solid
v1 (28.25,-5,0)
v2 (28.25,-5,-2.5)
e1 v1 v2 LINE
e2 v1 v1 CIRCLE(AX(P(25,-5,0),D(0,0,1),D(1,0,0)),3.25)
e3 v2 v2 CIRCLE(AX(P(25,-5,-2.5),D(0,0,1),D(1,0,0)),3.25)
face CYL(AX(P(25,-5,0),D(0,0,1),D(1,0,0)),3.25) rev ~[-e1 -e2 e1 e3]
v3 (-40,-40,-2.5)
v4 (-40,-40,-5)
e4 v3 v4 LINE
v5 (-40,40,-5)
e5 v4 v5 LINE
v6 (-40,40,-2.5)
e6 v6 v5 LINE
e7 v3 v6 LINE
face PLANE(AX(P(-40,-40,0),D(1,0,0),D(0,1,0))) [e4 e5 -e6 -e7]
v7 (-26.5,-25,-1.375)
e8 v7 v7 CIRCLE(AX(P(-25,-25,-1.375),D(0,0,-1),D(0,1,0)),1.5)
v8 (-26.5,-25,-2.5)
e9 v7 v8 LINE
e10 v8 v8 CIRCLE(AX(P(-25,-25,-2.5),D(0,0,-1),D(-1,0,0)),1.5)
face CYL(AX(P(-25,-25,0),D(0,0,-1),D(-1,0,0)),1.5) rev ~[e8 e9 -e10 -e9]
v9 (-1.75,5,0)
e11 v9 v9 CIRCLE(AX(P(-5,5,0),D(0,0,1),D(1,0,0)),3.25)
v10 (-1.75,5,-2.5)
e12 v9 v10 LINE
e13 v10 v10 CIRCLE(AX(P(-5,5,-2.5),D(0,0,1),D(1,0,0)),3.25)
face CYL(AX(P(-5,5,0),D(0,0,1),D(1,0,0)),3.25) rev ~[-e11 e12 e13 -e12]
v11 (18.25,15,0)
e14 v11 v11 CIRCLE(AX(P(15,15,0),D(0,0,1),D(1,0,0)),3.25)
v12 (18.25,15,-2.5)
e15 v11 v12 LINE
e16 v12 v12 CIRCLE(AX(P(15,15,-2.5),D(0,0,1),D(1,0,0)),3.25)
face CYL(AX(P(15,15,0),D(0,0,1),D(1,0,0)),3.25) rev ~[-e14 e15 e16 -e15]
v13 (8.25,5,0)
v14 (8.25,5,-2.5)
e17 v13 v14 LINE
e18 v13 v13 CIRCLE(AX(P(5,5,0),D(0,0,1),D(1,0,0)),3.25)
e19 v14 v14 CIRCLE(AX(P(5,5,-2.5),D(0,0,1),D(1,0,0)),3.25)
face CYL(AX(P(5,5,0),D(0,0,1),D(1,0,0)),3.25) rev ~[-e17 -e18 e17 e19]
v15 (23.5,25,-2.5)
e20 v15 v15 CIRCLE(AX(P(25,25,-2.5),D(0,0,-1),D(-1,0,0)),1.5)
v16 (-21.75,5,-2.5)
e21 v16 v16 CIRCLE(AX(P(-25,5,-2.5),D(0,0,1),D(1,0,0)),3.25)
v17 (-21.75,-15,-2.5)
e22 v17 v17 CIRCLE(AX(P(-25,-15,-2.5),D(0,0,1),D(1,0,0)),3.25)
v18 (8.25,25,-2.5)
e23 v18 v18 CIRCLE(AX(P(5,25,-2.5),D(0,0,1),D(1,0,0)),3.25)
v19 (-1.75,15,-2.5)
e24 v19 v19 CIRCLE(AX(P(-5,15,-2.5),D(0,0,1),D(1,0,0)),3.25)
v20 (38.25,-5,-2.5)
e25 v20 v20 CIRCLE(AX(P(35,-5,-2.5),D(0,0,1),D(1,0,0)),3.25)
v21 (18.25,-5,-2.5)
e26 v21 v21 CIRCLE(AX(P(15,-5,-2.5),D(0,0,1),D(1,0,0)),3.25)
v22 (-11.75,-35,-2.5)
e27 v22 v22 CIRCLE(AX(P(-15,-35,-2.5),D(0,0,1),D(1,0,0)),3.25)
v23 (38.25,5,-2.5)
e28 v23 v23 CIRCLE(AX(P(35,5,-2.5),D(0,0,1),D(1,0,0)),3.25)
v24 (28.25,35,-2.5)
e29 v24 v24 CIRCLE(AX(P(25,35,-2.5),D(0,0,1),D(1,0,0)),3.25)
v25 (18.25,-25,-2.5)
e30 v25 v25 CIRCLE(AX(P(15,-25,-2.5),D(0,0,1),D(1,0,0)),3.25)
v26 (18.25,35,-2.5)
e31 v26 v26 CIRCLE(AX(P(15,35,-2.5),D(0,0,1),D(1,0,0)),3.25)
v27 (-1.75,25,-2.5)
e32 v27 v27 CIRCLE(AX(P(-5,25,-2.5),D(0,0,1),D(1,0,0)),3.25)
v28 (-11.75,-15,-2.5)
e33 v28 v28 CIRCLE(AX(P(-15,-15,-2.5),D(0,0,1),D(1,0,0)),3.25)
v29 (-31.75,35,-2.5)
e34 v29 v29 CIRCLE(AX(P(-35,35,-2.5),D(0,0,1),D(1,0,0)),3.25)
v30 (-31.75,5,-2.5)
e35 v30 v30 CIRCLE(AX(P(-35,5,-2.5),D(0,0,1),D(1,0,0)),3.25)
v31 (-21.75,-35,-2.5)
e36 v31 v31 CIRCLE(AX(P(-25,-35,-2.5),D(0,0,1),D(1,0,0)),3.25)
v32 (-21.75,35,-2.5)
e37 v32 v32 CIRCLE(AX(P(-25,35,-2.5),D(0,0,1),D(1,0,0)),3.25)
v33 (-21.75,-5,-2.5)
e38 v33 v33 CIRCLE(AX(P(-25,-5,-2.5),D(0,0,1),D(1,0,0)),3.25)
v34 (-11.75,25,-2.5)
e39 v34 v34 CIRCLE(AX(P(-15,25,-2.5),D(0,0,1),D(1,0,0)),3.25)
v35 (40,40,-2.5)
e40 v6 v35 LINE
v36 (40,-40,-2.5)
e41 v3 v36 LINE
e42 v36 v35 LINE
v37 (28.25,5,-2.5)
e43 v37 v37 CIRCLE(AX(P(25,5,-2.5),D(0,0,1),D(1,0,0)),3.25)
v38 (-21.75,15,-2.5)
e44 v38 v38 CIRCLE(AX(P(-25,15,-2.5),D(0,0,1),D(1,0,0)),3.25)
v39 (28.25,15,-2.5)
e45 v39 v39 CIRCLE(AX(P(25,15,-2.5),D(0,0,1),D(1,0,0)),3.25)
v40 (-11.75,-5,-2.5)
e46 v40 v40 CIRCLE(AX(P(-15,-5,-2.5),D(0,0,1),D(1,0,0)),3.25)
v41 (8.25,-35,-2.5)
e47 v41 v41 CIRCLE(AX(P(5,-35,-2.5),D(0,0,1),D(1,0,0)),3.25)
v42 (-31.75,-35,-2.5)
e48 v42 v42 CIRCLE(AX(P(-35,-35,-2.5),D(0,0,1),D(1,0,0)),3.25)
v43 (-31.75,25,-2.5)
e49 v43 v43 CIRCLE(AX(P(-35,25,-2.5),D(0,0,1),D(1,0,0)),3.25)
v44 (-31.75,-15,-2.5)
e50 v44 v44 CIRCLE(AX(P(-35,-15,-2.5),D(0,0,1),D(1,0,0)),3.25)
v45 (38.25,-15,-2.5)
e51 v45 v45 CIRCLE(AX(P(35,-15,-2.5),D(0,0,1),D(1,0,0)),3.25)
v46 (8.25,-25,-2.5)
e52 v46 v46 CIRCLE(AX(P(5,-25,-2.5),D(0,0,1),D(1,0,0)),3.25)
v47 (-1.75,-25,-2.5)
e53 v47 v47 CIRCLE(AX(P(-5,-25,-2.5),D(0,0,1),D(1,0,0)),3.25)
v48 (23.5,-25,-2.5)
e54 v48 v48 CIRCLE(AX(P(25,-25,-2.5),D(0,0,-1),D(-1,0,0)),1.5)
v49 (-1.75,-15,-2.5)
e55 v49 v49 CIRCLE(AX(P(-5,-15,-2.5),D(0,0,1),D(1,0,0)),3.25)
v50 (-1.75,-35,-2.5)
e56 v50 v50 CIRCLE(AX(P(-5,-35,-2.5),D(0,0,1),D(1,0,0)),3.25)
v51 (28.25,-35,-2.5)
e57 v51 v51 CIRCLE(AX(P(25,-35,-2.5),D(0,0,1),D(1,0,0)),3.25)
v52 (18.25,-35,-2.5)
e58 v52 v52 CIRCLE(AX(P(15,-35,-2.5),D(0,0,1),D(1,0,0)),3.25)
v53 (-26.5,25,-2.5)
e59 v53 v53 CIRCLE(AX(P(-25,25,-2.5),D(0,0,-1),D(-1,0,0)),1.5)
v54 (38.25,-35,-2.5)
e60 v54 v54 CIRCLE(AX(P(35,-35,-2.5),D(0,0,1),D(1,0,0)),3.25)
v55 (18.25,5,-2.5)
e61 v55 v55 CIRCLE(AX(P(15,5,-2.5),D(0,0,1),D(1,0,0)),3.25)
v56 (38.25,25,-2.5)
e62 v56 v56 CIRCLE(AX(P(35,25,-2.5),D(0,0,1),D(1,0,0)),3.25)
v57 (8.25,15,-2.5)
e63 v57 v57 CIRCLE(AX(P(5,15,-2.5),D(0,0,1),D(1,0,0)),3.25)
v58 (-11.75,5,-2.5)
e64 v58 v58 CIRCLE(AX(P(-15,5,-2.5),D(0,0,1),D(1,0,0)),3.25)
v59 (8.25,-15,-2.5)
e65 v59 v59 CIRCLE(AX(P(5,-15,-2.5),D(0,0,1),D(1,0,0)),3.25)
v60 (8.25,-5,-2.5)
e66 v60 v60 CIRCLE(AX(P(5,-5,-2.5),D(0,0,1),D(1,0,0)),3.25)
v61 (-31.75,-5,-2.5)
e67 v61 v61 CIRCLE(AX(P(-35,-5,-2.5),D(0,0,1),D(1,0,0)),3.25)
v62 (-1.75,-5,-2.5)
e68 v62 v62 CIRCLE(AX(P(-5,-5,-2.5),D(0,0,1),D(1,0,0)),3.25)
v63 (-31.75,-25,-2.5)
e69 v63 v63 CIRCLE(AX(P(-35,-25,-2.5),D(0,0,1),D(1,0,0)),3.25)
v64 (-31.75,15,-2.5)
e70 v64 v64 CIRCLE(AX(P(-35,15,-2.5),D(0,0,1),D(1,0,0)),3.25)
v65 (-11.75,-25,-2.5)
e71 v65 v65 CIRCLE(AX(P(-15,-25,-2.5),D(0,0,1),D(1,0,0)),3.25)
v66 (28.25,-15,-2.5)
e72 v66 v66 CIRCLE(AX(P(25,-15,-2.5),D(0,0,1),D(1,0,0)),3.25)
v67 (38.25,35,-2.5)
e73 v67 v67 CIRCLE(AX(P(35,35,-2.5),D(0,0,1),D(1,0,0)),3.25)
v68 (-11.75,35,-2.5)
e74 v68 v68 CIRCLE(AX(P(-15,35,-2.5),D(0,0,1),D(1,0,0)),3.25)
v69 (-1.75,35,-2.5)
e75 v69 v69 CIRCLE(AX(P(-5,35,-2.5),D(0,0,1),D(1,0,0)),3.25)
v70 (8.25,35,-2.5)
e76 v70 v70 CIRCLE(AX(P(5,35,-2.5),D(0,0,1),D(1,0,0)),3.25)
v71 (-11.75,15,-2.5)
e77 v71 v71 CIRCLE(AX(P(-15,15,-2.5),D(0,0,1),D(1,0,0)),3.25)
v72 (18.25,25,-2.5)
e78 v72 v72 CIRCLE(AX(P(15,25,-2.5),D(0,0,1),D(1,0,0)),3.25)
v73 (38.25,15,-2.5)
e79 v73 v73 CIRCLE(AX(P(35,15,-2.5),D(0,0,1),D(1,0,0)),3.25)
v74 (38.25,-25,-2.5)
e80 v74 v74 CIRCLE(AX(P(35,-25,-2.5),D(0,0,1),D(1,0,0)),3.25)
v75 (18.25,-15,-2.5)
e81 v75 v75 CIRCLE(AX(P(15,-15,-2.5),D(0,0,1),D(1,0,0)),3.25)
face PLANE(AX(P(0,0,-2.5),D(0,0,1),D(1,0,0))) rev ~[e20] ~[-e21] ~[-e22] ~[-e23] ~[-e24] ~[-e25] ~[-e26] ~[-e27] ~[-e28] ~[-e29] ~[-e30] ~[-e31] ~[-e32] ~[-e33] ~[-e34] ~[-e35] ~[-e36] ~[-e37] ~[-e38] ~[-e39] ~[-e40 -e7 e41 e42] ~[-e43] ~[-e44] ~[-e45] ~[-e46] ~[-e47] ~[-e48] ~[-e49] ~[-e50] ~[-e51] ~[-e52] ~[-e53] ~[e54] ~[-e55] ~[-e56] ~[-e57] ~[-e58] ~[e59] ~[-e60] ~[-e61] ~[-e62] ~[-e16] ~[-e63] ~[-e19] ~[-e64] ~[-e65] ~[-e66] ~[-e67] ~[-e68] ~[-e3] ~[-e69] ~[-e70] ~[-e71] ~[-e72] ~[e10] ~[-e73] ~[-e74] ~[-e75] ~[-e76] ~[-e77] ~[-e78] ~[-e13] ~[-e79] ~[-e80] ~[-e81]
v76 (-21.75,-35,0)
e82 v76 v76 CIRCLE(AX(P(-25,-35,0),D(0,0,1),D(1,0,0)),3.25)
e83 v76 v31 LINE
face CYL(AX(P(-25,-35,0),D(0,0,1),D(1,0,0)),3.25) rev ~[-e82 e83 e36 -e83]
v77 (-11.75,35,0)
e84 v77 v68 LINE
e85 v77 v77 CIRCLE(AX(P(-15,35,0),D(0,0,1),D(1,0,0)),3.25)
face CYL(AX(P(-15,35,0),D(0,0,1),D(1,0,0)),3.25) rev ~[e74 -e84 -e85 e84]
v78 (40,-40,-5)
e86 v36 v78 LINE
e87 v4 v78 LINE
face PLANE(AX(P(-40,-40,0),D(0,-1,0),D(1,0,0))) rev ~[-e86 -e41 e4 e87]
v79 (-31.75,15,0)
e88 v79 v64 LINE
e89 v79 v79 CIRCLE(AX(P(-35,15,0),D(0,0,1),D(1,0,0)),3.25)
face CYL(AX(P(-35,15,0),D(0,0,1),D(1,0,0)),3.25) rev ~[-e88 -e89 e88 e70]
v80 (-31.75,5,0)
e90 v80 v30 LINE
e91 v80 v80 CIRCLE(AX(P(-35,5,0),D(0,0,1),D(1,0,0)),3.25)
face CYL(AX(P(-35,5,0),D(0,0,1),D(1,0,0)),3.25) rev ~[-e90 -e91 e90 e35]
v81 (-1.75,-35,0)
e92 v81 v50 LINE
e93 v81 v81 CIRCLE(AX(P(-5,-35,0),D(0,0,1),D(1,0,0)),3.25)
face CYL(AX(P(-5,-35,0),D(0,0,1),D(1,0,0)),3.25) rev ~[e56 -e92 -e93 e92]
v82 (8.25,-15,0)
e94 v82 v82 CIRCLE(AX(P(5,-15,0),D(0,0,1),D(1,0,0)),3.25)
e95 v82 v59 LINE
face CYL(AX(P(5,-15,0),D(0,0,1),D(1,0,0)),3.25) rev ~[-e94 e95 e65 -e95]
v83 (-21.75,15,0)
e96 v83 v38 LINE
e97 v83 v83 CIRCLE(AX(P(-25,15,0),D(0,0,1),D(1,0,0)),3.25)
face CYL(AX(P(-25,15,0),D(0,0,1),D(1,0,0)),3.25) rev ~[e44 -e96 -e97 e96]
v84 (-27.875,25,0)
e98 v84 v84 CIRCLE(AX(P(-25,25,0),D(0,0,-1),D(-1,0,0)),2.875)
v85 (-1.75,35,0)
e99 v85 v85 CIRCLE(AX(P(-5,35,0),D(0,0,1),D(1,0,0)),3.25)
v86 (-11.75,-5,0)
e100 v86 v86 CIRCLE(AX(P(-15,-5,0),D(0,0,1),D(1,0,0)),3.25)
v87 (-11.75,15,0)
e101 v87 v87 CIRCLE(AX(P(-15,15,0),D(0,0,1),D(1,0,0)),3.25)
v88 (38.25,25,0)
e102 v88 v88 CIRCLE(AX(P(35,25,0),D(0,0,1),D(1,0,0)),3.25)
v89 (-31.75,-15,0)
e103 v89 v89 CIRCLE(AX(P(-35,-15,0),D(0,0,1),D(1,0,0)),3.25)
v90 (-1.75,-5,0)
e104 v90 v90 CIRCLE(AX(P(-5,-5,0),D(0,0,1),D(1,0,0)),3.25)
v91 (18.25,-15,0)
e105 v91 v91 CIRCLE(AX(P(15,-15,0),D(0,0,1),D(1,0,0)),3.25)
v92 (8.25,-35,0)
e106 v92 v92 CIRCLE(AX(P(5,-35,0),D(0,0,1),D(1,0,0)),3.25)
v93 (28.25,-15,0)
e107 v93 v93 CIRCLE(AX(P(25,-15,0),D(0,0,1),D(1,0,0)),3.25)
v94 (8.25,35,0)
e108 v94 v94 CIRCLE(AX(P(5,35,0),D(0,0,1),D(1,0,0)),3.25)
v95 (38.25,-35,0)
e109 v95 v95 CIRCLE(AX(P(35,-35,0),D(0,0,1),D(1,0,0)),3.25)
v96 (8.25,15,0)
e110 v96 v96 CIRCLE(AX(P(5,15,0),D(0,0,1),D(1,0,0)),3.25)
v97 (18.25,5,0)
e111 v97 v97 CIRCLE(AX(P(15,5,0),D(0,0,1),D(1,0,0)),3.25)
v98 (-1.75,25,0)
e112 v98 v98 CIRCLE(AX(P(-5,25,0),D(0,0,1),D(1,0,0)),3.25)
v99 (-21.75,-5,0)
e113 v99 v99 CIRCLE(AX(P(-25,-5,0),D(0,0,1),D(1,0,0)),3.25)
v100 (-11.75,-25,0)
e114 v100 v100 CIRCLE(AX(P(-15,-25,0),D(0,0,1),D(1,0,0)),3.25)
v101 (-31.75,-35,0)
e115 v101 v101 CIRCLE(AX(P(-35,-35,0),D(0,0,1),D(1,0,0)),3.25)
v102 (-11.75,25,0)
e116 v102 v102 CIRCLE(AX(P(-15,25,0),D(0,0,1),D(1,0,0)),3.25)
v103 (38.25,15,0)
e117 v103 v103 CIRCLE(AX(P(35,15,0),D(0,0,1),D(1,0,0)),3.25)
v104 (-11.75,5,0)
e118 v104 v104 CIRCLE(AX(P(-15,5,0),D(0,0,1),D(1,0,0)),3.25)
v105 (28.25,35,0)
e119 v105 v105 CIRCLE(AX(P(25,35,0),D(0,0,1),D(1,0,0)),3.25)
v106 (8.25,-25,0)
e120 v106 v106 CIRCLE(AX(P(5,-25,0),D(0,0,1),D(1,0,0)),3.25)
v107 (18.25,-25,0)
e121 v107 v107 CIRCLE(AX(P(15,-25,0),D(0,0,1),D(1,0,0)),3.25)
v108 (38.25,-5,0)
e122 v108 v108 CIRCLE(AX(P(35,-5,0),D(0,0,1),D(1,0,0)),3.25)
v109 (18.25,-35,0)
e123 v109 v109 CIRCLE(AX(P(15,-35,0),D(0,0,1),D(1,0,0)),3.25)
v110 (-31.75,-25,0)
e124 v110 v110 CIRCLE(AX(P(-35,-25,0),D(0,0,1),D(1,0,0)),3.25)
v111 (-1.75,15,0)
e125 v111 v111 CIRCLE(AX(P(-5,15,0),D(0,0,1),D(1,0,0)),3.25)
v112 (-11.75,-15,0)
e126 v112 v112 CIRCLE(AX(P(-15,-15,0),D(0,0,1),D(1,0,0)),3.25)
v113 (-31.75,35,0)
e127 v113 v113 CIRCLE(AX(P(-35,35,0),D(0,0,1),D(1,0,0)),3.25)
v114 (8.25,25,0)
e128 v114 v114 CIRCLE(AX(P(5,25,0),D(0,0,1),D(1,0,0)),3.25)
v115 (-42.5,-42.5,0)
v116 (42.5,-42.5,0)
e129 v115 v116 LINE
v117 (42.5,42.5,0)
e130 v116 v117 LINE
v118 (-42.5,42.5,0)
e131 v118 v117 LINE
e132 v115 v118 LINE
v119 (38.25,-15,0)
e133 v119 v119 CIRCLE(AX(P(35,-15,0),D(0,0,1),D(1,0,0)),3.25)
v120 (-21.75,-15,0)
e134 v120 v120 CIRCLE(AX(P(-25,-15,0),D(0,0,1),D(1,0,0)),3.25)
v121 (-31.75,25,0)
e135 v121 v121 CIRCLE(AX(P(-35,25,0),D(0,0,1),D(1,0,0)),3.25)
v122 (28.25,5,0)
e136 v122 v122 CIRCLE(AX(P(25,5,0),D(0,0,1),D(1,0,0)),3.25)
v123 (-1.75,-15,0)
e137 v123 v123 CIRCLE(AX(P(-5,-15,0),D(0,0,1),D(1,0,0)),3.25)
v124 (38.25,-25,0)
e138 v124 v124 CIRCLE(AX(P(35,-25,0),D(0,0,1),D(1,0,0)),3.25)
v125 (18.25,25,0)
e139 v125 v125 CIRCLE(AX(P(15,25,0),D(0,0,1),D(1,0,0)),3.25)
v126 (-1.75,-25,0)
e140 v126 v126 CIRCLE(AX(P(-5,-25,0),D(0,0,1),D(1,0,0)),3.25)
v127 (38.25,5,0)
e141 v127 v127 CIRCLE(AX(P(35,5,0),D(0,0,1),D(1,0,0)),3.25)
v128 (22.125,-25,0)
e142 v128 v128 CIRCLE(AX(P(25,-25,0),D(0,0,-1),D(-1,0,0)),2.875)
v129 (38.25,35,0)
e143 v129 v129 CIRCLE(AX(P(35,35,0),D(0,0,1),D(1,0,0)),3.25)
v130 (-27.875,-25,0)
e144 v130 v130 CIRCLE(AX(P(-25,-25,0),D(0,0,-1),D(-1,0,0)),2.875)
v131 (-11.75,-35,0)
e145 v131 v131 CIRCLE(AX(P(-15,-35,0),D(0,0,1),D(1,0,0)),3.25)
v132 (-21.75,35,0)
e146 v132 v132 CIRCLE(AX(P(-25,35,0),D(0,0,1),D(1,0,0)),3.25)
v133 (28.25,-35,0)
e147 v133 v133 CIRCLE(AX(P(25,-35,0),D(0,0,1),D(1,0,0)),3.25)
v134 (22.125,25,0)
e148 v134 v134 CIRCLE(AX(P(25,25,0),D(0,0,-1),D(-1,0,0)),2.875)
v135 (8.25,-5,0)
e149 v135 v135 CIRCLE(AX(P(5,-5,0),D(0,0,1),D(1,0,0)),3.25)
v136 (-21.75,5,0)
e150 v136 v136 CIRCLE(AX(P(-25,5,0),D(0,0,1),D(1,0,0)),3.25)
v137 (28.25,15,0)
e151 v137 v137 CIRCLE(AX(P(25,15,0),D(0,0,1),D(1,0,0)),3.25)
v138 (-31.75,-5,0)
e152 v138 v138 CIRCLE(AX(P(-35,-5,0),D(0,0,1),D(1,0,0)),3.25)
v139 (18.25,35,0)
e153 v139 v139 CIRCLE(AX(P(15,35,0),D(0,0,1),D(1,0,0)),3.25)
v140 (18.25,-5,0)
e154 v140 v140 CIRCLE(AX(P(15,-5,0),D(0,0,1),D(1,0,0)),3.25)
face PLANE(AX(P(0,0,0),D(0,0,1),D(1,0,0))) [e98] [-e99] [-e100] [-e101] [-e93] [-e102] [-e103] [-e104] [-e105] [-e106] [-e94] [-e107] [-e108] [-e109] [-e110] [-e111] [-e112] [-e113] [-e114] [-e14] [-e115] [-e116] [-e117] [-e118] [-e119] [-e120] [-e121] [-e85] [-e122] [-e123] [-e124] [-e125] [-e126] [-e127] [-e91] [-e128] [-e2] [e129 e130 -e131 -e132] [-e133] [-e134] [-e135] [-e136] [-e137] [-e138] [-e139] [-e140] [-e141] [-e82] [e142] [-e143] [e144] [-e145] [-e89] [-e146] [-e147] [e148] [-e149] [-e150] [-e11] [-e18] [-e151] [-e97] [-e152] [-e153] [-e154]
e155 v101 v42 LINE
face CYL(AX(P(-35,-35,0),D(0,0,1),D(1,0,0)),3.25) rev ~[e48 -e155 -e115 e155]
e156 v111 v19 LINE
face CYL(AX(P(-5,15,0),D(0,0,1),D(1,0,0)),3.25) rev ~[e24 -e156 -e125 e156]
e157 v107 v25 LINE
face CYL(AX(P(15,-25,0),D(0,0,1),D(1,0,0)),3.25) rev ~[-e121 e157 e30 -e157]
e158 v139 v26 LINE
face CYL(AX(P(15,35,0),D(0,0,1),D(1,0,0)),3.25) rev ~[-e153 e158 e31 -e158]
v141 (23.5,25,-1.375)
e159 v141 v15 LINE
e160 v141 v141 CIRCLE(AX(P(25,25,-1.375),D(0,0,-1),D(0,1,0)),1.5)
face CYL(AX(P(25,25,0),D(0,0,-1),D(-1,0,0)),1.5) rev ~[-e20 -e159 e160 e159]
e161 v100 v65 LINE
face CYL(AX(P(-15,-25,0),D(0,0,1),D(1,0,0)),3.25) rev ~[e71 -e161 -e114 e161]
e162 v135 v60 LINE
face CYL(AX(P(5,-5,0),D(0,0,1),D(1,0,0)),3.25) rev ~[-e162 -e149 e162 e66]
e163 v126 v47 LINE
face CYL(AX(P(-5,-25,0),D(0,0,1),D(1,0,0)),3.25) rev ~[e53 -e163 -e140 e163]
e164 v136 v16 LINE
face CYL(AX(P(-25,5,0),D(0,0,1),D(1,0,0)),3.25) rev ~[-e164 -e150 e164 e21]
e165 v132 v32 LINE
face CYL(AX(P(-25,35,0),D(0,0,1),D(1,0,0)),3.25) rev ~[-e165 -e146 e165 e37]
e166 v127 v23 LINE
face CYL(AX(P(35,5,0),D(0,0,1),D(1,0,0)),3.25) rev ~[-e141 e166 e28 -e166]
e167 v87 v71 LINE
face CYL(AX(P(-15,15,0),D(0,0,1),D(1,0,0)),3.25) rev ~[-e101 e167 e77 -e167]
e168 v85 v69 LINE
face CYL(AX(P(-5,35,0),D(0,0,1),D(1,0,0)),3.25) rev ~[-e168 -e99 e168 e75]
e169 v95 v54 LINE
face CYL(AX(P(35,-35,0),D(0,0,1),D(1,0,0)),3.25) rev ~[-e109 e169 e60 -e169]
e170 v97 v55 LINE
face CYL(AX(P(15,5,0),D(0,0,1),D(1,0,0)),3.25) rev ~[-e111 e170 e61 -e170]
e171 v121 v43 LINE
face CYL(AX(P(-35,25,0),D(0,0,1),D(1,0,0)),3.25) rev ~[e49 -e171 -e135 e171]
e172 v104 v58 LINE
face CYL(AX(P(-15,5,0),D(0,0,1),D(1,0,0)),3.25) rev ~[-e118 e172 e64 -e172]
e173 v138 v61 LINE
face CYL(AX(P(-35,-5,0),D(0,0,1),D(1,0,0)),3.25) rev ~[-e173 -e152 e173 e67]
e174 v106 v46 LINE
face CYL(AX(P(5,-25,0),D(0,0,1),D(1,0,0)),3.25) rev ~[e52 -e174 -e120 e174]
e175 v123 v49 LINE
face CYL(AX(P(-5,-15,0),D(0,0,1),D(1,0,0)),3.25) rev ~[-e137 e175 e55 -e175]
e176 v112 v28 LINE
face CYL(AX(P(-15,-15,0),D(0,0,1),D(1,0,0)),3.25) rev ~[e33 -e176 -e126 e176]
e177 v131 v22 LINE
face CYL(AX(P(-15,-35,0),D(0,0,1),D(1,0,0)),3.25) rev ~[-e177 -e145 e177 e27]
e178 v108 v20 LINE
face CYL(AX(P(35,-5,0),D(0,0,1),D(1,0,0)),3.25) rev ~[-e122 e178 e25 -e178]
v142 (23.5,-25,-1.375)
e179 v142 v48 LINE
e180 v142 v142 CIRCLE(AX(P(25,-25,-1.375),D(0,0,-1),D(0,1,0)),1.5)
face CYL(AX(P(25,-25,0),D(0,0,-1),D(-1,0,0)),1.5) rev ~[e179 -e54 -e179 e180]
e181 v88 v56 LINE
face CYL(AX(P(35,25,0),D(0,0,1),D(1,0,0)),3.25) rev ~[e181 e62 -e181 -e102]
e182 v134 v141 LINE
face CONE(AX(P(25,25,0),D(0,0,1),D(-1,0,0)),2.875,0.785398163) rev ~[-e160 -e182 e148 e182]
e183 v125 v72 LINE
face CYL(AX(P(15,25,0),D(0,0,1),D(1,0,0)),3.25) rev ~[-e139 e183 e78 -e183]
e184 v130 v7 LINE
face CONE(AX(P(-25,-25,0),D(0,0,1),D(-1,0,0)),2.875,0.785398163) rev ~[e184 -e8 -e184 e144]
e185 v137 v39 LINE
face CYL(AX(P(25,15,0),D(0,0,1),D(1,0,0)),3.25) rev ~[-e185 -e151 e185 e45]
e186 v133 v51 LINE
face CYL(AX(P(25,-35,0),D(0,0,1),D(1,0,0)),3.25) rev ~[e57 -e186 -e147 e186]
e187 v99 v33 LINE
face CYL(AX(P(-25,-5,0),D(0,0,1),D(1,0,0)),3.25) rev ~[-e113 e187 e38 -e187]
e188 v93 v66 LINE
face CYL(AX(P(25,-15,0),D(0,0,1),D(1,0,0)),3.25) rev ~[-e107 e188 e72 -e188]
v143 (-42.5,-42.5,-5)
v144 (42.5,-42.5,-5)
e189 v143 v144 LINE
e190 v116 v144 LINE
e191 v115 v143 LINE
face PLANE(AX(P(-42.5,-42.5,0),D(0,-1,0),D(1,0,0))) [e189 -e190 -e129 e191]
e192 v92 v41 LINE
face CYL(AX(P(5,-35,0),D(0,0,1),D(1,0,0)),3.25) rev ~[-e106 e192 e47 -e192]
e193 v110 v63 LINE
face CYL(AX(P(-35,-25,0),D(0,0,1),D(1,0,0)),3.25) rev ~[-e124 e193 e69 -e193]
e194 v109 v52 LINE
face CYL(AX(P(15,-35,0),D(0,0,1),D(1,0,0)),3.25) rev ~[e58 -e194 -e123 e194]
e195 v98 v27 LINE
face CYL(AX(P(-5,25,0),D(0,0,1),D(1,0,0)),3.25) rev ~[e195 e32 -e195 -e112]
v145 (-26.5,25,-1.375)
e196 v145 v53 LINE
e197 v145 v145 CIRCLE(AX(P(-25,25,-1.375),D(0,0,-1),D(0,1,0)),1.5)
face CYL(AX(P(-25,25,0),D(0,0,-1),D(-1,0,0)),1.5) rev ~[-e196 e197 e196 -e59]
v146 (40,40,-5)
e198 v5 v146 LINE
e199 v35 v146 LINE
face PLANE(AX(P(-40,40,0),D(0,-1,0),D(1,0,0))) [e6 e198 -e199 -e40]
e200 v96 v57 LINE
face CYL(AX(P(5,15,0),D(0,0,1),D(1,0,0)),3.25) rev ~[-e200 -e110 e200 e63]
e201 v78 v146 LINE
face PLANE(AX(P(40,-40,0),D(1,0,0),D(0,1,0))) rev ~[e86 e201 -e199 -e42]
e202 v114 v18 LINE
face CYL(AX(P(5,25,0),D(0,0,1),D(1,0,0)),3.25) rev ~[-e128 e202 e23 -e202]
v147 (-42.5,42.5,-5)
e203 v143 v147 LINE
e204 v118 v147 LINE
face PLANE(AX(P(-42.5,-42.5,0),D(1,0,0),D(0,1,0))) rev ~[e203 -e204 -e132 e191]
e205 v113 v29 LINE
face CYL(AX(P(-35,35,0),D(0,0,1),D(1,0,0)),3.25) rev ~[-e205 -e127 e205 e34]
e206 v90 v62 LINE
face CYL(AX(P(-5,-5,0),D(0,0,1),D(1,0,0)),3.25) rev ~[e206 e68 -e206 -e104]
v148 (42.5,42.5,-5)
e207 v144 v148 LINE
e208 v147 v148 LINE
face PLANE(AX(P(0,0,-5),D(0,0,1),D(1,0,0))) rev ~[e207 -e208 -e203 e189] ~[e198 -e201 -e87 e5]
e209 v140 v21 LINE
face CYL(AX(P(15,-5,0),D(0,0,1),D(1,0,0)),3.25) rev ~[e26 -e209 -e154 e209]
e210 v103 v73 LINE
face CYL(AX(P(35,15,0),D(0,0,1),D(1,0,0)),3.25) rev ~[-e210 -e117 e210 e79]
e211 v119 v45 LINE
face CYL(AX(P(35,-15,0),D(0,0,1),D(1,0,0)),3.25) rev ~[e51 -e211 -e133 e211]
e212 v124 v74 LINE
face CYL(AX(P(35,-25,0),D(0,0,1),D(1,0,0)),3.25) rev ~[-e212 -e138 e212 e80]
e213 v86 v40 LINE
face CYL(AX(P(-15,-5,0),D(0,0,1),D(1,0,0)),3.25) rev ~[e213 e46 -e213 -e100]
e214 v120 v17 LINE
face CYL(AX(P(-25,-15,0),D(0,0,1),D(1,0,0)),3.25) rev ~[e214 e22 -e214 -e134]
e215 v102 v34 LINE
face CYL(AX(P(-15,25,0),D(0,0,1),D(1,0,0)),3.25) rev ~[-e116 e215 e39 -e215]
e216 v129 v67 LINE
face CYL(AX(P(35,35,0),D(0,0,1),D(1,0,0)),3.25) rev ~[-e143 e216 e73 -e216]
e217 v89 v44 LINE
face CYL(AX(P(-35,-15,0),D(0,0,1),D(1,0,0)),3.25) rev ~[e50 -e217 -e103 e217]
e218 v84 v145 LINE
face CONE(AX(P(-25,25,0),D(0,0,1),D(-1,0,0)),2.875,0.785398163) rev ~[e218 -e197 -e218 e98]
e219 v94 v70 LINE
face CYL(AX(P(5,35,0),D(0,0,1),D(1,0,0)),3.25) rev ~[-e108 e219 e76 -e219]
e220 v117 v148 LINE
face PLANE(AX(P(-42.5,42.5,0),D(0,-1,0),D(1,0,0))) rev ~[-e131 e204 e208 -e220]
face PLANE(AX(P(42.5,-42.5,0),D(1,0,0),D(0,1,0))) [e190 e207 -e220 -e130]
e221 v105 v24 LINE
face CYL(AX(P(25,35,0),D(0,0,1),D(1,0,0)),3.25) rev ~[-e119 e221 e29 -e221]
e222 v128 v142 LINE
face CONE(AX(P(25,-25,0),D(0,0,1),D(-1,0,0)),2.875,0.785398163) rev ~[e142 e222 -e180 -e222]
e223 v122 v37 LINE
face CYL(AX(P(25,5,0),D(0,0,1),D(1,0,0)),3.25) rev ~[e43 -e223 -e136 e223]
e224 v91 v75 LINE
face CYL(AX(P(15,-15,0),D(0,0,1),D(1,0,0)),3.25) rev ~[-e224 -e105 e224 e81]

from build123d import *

# Parameters (mm, degrees)
F0_W           = 85
F0_H           = 85
F0_W_2         = 80
F0_H_2         = 80
F1_DEPTH       = 5
F0_R           = 3.25
F2_DEPTH       = 2.5
F3_D           = 3
F3_CSINK_D     = 5.75
F3_CSINK_ANGLE = 90


with BuildPart() as f1:
    # F0 (on Top) → F1 (new body)
    with BuildSketch(Plane.XY):
        Rectangle(F0_W, F0_H)
        Rectangle(F0_W_2, F0_H_2, mode=Mode.SUBTRACT)
    extrude(amount=-F1_DEPTH)

    # F0 (on Top) → F2 (join)
    with BuildSketch(Plane.XY):
        Rectangle(F0_W_2, F0_H_2)
        with Locations((-35, -35)):
            Circle(F0_R, mode=Mode.SUBTRACT)
        with Locations((-25, -35)):
            Circle(F0_R, mode=Mode.SUBTRACT)
        with Locations((-35, -25)):
            Circle(F0_R, mode=Mode.SUBTRACT)
        with Locations((-15, -35)):
            Circle(F0_R, mode=Mode.SUBTRACT)
        with Locations((-5, -35)):
            Circle(F0_R, mode=Mode.SUBTRACT)
        with Locations((-15, -25)):
            Circle(F0_R, mode=Mode.SUBTRACT)
        with Locations((-5, -25)):
            Circle(F0_R, mode=Mode.SUBTRACT)
        with Locations((-35, -15)):
            Circle(F0_R, mode=Mode.SUBTRACT)
        with Locations((-25, -15)):
            Circle(F0_R, mode=Mode.SUBTRACT)
        with Locations((-35, -5)):
            Circle(F0_R, mode=Mode.SUBTRACT)
        with Locations((-25, -5)):
            Circle(F0_R, mode=Mode.SUBTRACT)
        with Locations((-15, -15)):
            Circle(F0_R, mode=Mode.SUBTRACT)
        with Locations((-5, -15)):
            Circle(F0_R, mode=Mode.SUBTRACT)
        with Locations((-15, -5)):
            Circle(F0_R, mode=Mode.SUBTRACT)
        with Locations((-5, -5)):
            Circle(F0_R, mode=Mode.SUBTRACT)
        with Locations((5, -35)):
            Circle(F0_R, mode=Mode.SUBTRACT)
        with Locations((15, -35)):
            Circle(F0_R, mode=Mode.SUBTRACT)
        with Locations((5, -25)):
            Circle(F0_R, mode=Mode.SUBTRACT)
        with Locations((15, -25)):
            Circle(F0_R, mode=Mode.SUBTRACT)
        with Locations((25, -35)):
            Circle(F0_R, mode=Mode.SUBTRACT)
        with Locations((35, -35)):
            Circle(F0_R, mode=Mode.SUBTRACT)
        with Locations((35, -25)):
            Circle(F0_R, mode=Mode.SUBTRACT)
        with Locations((5, -15)):
            Circle(F0_R, mode=Mode.SUBTRACT)
        with Locations((15, -15)):
            Circle(F0_R, mode=Mode.SUBTRACT)
        with Locations((5, -5)):
            Circle(F0_R, mode=Mode.SUBTRACT)
        with Locations((15, -5)):
            Circle(F0_R, mode=Mode.SUBTRACT)
        with Locations((25, -15)):
            Circle(F0_R, mode=Mode.SUBTRACT)
        with Locations((35, -15)):
            Circle(F0_R, mode=Mode.SUBTRACT)
        with Locations((25, -5)):
            Circle(F0_R, mode=Mode.SUBTRACT)
        with Locations((35, -5)):
            Circle(F0_R, mode=Mode.SUBTRACT)
        with Locations((-35, 5)):
            Circle(F0_R, mode=Mode.SUBTRACT)
        with Locations((-25, 5)):
            Circle(F0_R, mode=Mode.SUBTRACT)
        with Locations((-35, 15)):
            Circle(F0_R, mode=Mode.SUBTRACT)
        with Locations((-25, 15)):
            Circle(F0_R, mode=Mode.SUBTRACT)
        with Locations((-15, 5)):
            Circle(F0_R, mode=Mode.SUBTRACT)
        with Locations((-5, 5)):
            Circle(F0_R, mode=Mode.SUBTRACT)
        with Locations((-15, 15)):
            Circle(F0_R, mode=Mode.SUBTRACT)
        with Locations((-5, 15)):
            Circle(F0_R, mode=Mode.SUBTRACT)
        with Locations((-35, 25)):
            Circle(F0_R, mode=Mode.SUBTRACT)
        with Locations((-35, 35)):
            Circle(F0_R, mode=Mode.SUBTRACT)
        with Locations((-25, 35)):
            Circle(F0_R, mode=Mode.SUBTRACT)
        with Locations((-15, 25)):
            Circle(F0_R, mode=Mode.SUBTRACT)
        with Locations((-5, 25)):
            Circle(F0_R, mode=Mode.SUBTRACT)
        with Locations((-15, 35)):
            Circle(F0_R, mode=Mode.SUBTRACT)
        with Locations((-5, 35)):
            Circle(F0_R, mode=Mode.SUBTRACT)
        with Locations((5, 5)):
            Circle(F0_R, mode=Mode.SUBTRACT)
        with Locations((15, 5)):
            Circle(F0_R, mode=Mode.SUBTRACT)
        with Locations((5, 15)):
            Circle(F0_R, mode=Mode.SUBTRACT)
        with Locations((15, 15)):
            Circle(F0_R, mode=Mode.SUBTRACT)
        with Locations((25, 5)):
            Circle(F0_R, mode=Mode.SUBTRACT)
        with Locations((35, 5)):
            Circle(F0_R, mode=Mode.SUBTRACT)
        with Locations((25, 15)):
            Circle(F0_R, mode=Mode.SUBTRACT)
        with Locations((35, 15)):
            Circle(F0_R, mode=Mode.SUBTRACT)
        with Locations((5, 25)):
            Circle(F0_R, mode=Mode.SUBTRACT)
        with Locations((15, 25)):
            Circle(F0_R, mode=Mode.SUBTRACT)
        with Locations((5, 35)):
            Circle(F0_R, mode=Mode.SUBTRACT)
        with Locations((15, 35)):
            Circle(F0_R, mode=Mode.SUBTRACT)
        with Locations((35, 25)):
            Circle(F0_R, mode=Mode.SUBTRACT)
        with Locations((25, 35)):
            Circle(F0_R, mode=Mode.SUBTRACT)
        with Locations((35, 35)):
            Circle(F0_R, mode=Mode.SUBTRACT)
    extrude(amount=-F2_DEPTH)

    # F3 (through all)
    with Locations(Plane.XY):
        with Locations((-25, 25), (25, 25), (25, -25), (-25, -25)):
            CounterSinkHole(F3_D / 2, F3_CSINK_D / 2, counter_sink_angle=F3_CSINK_ANGLE)


solid = f1.part
